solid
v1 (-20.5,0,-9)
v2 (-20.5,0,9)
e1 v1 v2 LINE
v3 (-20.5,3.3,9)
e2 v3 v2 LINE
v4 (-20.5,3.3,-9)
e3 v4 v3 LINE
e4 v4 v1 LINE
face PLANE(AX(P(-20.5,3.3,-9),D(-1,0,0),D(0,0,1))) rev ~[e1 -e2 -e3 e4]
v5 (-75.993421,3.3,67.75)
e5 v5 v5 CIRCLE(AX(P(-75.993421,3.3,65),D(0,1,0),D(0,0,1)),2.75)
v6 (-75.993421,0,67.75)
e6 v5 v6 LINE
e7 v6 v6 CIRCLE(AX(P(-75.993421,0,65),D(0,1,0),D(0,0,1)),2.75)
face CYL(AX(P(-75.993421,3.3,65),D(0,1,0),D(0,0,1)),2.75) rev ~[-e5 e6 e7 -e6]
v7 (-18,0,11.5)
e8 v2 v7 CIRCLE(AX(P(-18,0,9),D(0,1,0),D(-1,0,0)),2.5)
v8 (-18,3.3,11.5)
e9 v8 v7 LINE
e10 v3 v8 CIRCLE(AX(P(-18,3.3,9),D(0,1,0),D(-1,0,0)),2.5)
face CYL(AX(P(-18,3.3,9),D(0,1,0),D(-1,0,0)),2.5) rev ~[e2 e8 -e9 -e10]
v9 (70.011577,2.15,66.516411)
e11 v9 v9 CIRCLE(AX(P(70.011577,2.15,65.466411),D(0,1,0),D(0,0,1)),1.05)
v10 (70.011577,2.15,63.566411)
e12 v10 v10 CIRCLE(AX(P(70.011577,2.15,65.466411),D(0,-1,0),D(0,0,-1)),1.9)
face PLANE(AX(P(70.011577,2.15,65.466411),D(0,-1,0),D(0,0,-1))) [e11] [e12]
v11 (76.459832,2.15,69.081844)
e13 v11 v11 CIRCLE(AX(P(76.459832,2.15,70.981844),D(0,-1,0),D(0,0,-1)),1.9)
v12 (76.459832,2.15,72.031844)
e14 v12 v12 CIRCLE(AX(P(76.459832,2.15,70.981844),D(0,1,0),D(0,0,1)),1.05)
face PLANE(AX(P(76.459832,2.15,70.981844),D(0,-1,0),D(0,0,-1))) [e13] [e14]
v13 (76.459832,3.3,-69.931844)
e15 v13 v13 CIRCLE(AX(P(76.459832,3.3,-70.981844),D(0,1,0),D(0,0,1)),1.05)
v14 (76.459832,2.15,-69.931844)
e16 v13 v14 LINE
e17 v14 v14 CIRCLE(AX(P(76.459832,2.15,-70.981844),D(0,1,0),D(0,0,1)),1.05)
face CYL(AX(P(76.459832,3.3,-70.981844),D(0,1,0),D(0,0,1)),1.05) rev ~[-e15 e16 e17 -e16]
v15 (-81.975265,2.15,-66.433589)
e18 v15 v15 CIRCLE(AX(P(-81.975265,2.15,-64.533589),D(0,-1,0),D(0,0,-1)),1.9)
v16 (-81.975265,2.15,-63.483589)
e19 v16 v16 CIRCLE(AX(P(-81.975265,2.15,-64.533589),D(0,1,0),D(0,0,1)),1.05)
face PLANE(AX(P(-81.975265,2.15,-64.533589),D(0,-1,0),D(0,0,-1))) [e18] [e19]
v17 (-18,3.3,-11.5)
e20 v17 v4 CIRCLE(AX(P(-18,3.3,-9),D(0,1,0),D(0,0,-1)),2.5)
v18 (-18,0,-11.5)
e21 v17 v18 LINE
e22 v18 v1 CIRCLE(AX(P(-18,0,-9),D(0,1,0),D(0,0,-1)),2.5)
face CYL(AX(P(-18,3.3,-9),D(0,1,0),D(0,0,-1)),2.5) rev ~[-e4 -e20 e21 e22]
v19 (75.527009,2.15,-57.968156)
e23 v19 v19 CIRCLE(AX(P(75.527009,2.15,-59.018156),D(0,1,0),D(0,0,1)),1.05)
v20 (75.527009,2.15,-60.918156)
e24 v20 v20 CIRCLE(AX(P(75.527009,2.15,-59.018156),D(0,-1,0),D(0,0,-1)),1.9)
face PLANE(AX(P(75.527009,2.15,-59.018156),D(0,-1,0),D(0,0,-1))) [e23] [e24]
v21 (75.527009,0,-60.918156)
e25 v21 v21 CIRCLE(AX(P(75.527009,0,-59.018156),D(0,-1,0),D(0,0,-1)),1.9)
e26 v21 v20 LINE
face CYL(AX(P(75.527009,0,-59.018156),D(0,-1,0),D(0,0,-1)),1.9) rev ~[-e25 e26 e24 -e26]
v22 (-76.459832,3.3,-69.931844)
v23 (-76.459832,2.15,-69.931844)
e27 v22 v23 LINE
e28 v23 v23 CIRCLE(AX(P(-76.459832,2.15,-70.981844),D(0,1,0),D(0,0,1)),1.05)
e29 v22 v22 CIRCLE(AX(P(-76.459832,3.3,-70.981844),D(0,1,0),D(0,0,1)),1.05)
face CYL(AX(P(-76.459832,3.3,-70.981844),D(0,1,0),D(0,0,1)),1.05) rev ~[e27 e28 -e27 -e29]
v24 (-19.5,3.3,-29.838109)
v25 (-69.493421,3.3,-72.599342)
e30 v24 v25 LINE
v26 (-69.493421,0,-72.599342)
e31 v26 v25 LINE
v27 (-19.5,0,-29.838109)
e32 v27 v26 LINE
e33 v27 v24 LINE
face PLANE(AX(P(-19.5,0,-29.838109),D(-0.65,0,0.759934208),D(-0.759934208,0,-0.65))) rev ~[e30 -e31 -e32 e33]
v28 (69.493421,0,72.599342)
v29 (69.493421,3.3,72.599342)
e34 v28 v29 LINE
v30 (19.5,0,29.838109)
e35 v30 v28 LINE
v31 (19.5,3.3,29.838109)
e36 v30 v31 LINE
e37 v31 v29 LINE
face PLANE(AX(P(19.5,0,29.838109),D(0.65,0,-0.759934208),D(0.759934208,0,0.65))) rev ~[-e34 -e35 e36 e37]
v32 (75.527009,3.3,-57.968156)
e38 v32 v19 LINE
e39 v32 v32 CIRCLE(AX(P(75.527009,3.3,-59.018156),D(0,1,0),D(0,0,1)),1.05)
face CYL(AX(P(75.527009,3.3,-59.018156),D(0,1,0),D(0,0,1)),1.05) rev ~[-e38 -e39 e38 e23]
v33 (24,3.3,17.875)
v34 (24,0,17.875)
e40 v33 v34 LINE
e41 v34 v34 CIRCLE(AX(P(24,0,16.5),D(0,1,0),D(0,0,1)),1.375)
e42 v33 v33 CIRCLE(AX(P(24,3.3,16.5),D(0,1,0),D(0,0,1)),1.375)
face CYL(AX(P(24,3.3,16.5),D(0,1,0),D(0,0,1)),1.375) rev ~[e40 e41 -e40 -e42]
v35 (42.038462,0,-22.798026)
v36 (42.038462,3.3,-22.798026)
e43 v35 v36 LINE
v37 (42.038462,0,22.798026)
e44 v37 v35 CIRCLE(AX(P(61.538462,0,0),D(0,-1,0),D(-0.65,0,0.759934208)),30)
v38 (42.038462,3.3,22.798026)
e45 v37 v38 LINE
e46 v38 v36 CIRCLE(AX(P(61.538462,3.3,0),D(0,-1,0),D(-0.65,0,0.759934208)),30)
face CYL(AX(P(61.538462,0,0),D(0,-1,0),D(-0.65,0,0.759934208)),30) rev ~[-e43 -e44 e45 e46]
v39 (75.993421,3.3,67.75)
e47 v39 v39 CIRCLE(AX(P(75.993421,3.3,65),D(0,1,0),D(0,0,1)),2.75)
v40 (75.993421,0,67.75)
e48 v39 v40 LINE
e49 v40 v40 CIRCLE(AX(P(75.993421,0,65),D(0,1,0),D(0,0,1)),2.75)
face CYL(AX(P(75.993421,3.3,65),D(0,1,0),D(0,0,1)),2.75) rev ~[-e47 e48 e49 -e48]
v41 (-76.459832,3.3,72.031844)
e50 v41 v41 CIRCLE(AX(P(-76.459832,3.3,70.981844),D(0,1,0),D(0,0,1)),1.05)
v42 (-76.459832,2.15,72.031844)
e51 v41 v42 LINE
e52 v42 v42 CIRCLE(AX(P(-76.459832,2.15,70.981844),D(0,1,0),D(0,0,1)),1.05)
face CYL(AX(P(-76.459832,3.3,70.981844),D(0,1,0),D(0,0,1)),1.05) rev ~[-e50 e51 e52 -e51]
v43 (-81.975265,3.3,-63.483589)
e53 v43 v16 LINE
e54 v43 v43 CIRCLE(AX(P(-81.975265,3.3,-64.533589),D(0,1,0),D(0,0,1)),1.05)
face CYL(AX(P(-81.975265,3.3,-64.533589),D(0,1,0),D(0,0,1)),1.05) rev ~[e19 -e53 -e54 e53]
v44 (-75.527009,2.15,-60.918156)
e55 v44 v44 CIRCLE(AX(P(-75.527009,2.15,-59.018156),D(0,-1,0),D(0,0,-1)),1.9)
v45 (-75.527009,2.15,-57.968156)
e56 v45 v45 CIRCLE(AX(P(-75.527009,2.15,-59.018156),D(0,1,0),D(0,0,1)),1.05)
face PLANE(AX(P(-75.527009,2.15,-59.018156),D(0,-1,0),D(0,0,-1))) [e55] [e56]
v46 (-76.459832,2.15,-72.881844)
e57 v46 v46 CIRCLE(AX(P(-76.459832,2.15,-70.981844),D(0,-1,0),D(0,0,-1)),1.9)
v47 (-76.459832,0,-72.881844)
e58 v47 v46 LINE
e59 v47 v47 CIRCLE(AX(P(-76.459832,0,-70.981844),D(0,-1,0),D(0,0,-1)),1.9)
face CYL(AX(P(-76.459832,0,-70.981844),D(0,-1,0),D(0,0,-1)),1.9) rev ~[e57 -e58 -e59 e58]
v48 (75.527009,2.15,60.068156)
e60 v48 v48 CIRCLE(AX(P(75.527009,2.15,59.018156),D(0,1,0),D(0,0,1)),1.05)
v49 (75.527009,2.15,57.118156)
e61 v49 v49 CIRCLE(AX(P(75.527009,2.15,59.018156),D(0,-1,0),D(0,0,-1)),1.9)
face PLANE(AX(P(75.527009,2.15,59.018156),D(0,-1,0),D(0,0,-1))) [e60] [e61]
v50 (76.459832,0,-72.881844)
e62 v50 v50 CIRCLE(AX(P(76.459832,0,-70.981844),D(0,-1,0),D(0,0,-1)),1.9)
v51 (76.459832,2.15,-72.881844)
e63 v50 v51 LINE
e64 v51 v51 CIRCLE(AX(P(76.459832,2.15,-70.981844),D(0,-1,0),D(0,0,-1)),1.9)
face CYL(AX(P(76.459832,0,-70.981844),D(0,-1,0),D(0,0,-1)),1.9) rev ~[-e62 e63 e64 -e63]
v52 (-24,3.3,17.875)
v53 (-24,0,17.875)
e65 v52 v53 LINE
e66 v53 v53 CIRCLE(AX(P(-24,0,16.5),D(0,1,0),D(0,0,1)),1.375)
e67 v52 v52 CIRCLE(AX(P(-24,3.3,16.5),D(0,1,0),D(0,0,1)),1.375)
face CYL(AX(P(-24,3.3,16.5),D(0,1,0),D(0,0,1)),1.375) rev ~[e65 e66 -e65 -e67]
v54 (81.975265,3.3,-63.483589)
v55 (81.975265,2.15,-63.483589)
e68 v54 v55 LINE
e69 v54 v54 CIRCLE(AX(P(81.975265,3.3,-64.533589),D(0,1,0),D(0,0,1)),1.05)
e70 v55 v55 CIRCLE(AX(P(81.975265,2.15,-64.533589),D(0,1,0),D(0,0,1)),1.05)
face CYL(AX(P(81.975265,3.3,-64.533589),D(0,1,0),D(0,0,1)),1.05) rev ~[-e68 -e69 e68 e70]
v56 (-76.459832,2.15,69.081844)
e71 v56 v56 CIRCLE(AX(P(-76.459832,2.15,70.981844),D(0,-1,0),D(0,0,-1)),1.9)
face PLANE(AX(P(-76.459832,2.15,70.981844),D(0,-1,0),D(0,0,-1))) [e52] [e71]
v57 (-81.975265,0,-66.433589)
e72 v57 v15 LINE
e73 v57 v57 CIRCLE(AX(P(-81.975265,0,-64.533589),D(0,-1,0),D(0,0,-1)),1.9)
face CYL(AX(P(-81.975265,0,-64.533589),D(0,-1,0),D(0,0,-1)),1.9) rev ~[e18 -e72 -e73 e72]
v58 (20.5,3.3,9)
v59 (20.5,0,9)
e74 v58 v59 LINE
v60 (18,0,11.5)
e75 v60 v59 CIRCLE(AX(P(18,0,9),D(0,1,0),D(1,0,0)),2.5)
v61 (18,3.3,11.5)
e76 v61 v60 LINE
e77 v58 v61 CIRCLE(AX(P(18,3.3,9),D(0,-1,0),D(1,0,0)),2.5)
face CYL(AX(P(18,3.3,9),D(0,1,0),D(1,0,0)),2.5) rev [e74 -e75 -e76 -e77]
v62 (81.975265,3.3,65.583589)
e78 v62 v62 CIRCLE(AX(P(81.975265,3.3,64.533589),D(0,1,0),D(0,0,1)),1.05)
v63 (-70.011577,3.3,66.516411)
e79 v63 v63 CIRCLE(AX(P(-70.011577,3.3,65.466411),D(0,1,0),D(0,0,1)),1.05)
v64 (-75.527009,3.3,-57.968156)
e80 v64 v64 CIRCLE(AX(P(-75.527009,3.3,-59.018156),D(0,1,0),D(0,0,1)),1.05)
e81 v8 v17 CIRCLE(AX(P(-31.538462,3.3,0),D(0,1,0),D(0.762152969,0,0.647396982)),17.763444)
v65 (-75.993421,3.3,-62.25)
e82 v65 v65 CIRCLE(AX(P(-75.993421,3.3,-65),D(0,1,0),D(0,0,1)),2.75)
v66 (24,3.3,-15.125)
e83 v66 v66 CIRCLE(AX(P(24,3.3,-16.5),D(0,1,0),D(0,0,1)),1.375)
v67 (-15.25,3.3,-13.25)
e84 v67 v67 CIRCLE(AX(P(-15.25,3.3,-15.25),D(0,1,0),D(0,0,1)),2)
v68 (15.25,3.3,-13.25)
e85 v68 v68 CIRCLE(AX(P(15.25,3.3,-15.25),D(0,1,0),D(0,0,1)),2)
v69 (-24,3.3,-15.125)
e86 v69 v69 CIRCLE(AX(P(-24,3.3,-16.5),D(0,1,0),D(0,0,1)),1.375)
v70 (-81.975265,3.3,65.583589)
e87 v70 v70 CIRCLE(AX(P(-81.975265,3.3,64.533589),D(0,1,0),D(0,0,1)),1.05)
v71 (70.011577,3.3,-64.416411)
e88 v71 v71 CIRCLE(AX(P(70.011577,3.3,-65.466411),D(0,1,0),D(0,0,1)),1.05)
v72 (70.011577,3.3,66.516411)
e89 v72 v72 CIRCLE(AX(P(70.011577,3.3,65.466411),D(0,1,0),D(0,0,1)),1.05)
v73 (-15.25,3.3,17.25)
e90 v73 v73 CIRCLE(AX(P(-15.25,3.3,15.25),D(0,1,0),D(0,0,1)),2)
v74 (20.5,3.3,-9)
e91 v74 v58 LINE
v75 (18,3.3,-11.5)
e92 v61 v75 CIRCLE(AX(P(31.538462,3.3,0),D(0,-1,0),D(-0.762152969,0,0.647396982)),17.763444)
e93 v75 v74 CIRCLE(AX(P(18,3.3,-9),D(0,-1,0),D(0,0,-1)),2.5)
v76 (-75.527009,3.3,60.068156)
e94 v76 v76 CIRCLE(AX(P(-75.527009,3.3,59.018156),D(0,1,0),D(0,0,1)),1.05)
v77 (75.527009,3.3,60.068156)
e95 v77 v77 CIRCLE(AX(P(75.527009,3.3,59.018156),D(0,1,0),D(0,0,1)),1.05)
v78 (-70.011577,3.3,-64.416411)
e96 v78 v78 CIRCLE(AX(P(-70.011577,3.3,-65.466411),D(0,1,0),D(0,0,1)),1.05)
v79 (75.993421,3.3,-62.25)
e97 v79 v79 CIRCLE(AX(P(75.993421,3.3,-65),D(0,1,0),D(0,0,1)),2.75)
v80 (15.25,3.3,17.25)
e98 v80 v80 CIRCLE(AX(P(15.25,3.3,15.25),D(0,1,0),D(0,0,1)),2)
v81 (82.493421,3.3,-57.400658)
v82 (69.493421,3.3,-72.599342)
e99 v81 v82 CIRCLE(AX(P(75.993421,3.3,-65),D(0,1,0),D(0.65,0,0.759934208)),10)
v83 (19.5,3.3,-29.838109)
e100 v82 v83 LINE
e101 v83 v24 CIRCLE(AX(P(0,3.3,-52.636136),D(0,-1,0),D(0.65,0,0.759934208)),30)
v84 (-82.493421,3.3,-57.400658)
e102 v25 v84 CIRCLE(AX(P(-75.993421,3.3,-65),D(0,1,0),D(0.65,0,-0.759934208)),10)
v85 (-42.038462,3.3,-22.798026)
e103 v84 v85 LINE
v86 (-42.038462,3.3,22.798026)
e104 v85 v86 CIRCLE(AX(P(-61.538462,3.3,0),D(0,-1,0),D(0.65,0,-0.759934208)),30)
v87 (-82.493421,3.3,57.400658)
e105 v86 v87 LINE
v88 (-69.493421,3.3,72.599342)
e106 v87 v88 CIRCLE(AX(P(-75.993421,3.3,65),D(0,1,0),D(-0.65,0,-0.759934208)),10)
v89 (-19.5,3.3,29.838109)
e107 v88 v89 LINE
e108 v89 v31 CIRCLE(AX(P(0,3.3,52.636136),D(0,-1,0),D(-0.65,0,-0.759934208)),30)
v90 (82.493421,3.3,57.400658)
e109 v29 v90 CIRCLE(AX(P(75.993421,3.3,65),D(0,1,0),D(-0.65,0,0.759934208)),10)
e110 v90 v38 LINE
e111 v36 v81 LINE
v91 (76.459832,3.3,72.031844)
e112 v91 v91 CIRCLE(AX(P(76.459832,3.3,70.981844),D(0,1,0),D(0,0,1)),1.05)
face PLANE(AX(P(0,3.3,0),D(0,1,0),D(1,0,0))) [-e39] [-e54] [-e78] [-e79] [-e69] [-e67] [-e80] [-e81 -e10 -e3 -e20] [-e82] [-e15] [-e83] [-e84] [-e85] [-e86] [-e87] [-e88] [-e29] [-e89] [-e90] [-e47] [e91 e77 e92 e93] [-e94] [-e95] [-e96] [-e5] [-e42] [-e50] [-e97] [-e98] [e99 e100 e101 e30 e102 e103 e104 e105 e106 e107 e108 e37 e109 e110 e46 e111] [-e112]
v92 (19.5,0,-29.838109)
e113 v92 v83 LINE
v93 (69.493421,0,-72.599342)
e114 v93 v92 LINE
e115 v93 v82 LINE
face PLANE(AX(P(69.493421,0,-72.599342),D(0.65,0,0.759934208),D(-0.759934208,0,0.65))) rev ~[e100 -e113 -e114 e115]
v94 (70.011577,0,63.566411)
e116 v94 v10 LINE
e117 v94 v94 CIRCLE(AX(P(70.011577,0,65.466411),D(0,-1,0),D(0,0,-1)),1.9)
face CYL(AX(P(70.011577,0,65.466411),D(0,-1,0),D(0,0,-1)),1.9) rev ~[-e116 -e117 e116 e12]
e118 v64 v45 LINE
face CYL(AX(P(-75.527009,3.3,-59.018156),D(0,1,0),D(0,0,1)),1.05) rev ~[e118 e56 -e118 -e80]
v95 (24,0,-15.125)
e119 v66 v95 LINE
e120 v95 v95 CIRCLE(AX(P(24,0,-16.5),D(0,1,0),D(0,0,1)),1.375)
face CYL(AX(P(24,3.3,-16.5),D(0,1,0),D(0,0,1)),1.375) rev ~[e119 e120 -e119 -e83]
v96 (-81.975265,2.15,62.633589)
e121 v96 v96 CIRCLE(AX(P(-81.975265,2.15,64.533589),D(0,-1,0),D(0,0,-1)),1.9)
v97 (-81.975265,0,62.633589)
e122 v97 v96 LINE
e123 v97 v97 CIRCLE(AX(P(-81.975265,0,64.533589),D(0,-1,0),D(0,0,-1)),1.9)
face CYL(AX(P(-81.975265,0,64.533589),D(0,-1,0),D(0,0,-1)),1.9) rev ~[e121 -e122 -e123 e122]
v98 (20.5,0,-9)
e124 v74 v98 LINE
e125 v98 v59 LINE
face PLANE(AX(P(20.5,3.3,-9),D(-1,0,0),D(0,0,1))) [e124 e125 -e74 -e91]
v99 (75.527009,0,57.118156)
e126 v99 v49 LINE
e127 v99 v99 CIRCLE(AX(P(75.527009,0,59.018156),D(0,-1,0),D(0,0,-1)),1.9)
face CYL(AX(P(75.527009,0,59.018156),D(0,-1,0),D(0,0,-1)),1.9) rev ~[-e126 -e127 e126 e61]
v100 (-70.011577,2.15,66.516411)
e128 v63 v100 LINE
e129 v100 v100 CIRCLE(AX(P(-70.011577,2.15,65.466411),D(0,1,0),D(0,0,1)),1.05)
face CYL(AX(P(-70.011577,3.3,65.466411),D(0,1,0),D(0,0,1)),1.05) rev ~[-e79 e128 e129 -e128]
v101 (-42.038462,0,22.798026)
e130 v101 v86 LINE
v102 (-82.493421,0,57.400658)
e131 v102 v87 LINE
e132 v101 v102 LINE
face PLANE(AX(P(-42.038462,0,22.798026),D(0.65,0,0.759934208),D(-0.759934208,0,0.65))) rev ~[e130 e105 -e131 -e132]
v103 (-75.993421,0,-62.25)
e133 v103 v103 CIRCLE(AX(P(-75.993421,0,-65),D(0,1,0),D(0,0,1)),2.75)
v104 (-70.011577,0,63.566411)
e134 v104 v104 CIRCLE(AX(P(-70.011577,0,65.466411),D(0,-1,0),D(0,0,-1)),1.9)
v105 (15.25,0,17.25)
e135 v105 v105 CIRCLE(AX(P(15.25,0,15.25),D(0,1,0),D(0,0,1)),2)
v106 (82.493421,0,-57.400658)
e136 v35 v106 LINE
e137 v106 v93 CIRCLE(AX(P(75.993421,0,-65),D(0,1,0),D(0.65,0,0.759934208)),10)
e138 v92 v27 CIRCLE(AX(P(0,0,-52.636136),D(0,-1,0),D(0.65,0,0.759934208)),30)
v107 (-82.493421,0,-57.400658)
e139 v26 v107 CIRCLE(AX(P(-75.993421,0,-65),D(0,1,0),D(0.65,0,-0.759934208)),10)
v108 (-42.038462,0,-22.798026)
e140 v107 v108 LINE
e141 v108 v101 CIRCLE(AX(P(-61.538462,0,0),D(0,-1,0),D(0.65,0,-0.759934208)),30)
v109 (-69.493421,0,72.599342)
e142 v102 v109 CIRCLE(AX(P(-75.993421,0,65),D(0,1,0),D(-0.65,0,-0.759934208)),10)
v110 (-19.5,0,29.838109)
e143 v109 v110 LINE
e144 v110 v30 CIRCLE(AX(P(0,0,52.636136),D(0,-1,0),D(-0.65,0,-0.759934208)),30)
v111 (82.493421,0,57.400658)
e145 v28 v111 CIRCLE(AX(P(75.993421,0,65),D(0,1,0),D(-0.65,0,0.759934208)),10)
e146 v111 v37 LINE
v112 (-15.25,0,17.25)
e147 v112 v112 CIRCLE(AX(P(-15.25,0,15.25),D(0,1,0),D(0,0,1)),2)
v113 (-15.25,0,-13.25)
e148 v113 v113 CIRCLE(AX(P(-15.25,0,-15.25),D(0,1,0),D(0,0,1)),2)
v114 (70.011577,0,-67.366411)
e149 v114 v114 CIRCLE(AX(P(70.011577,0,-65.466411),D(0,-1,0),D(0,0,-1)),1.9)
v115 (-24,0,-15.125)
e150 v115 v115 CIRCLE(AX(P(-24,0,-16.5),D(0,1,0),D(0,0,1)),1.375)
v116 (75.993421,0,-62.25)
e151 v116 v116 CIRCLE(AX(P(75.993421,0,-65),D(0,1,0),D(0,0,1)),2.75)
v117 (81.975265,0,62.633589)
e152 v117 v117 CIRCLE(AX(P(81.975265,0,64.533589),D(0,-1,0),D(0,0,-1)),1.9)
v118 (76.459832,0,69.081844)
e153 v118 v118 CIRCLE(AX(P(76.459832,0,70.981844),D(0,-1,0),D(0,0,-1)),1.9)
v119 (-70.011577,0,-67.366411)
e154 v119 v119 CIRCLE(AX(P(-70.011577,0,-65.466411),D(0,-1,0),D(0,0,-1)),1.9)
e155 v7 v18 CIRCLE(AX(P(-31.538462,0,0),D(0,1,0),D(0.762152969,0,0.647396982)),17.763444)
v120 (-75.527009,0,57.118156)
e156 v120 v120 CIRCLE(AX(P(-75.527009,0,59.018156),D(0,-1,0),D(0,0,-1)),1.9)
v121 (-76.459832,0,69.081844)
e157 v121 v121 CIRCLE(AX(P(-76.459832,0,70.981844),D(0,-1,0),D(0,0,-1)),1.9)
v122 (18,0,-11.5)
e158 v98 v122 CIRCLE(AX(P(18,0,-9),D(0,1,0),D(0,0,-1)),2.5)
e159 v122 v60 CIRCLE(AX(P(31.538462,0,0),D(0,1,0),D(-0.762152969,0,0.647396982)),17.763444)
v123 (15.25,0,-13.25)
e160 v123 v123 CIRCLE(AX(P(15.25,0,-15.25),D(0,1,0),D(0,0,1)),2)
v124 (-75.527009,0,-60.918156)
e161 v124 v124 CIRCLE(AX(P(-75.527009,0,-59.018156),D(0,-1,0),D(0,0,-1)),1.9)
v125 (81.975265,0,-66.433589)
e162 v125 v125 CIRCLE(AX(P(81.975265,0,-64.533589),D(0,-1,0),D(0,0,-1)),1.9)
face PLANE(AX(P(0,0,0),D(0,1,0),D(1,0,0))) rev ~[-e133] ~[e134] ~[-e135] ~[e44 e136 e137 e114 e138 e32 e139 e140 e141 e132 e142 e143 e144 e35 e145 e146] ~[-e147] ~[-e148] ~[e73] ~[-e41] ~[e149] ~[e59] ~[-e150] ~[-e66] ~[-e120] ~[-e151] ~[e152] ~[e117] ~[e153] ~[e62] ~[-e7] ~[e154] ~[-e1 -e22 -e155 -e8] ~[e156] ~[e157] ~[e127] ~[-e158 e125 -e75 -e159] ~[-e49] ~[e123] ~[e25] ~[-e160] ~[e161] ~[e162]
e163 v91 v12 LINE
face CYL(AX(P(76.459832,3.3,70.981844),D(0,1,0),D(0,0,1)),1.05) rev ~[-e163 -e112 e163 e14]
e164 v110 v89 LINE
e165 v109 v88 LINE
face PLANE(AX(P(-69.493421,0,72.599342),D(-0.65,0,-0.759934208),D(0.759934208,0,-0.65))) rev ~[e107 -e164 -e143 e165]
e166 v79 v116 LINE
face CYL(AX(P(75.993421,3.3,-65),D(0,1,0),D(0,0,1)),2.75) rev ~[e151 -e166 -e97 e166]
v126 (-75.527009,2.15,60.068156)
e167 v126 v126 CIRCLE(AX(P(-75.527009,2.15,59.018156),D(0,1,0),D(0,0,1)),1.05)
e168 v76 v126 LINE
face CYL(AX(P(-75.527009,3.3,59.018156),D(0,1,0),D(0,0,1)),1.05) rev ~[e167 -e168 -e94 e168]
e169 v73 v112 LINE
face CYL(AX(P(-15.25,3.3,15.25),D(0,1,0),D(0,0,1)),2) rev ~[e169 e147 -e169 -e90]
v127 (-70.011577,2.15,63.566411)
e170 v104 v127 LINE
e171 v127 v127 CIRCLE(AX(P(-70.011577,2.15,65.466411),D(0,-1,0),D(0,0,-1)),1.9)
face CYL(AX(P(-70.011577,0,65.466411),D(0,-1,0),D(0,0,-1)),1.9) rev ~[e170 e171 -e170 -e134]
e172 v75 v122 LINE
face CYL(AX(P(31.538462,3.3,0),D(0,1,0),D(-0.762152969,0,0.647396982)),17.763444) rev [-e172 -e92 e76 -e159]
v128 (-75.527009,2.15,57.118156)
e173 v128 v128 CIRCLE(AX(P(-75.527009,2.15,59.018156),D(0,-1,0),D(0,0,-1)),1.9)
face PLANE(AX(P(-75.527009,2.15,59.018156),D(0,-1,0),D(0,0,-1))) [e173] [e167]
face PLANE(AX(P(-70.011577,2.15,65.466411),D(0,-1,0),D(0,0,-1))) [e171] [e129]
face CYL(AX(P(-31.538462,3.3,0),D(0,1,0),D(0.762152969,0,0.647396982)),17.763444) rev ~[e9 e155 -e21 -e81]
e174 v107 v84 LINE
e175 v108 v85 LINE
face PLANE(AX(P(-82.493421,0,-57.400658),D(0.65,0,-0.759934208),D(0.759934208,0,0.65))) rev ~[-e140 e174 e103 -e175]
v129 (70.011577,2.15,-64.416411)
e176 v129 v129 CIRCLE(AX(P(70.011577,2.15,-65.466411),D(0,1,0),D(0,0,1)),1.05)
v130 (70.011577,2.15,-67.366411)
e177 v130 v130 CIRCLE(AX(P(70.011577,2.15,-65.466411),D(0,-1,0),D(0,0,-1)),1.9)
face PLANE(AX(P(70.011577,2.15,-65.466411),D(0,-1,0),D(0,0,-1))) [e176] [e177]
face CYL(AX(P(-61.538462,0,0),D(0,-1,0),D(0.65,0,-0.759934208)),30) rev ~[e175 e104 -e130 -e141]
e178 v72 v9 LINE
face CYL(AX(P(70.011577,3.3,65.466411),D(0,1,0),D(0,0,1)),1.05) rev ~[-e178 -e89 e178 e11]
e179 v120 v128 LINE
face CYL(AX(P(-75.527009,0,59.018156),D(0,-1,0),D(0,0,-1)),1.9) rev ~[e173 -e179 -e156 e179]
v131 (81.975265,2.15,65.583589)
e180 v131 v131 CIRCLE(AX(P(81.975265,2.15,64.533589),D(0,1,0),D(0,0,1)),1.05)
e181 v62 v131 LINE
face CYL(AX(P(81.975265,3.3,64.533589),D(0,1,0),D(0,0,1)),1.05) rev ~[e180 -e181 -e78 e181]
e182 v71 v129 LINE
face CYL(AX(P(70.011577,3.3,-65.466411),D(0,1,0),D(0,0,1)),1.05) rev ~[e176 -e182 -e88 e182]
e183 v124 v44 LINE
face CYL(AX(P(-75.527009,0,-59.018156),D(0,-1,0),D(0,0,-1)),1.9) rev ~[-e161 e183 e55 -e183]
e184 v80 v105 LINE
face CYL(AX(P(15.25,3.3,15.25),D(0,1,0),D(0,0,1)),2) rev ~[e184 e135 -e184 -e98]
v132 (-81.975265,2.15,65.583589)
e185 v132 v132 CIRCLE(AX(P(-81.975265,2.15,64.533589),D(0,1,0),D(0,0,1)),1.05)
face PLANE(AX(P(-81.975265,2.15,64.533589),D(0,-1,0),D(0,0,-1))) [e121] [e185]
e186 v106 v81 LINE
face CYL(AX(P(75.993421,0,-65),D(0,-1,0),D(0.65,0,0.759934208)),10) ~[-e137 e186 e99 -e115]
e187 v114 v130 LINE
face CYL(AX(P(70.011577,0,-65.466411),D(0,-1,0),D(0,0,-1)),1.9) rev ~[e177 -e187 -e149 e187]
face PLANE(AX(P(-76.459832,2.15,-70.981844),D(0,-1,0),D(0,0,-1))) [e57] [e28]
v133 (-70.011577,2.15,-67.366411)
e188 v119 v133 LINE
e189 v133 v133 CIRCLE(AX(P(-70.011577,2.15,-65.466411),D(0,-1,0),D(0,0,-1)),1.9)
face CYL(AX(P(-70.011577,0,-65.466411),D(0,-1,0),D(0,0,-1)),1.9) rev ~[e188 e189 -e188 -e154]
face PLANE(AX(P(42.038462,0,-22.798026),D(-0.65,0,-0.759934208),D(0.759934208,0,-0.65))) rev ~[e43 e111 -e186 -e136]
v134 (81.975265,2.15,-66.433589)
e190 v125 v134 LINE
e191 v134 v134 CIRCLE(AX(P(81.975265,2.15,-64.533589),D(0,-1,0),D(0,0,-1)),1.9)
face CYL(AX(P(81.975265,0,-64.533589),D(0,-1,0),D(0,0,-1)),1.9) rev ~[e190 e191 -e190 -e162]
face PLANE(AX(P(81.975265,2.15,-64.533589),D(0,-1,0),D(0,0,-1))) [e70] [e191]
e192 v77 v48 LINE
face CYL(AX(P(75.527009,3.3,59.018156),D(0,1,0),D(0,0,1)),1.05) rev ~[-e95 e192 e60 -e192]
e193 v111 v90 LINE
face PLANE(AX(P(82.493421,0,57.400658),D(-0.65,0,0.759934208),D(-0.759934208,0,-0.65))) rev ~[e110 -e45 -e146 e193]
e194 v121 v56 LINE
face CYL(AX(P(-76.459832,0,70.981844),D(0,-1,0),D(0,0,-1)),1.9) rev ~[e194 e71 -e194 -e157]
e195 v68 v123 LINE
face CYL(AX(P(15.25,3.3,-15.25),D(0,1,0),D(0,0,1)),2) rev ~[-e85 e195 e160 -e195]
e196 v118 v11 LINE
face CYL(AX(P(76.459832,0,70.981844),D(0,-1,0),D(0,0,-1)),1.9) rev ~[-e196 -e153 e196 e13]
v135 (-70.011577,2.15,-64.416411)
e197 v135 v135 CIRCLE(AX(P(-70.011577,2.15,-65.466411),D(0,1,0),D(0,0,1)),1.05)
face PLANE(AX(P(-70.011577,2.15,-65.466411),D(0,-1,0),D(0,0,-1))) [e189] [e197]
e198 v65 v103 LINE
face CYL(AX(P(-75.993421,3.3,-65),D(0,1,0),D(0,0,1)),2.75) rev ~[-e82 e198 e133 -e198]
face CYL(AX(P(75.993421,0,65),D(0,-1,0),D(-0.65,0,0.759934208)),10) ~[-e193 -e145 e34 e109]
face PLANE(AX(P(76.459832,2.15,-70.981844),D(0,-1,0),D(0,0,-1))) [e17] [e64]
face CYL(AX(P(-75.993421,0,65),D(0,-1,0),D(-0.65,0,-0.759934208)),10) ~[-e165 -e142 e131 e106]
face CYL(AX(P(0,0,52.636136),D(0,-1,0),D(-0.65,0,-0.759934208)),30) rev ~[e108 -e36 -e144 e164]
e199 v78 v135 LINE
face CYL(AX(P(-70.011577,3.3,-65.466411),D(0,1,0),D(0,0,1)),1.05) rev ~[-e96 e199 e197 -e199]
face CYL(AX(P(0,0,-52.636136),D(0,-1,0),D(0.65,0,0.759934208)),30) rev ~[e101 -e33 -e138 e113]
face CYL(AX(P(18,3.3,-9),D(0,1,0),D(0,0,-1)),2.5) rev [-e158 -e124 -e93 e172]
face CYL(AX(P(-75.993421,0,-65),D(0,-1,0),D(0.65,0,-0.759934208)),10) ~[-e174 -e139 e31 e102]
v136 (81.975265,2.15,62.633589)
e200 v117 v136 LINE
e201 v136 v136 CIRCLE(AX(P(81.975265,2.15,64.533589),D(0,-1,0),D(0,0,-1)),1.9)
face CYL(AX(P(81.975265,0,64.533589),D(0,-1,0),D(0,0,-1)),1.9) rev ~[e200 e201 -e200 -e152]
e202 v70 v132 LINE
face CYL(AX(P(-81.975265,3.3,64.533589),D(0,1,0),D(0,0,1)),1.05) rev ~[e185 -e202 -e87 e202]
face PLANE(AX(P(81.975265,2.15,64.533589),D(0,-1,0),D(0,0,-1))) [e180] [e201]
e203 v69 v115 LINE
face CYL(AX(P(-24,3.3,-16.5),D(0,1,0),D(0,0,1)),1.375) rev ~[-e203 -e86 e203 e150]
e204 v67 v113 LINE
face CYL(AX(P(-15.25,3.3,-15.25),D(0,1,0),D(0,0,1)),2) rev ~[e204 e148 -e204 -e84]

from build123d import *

# Parameters (mm, degrees)
BOSS_EXTRUDE1_DEPTH = 3.3
SKETCH2_R           = 1.05
SKETCH2_R_2         = 2.75
SKETCH2_R_3         = 1.375
CUT_EXTRUDE1_DEPTH  = 3.3
SKETCH3_R           = 1.9
CUT_EXTRUDE2_DEPTH  = 2.15
SKETCH6_R           = 2
CUT_EXTRUDE3_DEPTH  = 10


with BuildPart() as part:
    # Sketch1 → Boss-Extrude1 (new body)
    with BuildSketch(Plane(origin=(0, 0, 0), x_dir=(1, 0, 0), z_dir=(0, 1, 0))):
        with BuildLine():
            Line((-82.493420768, 57.400657923), (-42.038461538, 22.79802623))
            ThreePointArc((-42.038461538, 22.79802623), (-31.538461538, 0), (-42.038461538, -22.79802623))
            Line((-42.038461538, -22.79802623), (-82.493420768, -57.400657923))
            ThreePointArc((-82.493420768, -57.400657923), (-83.592762845, -71.5), (-69.493420768, -72.599342077))
            Line((-69.493420768, -72.599342077), (-19.5, -29.838109366))
            ThreePointArc((-19.5, -29.838109366), (0, -22.636135597), (19.5, -29.838109366))
            Line((19.5, -29.838109366), (69.493420768, -72.599342077))
            ThreePointArc((69.493420768, -72.599342077), (83.592762845, -71.5), (82.493420768, -57.400657923))
            Line((82.493420768, -57.400657923), (42.038461538, -22.79802623))
            ThreePointArc((42.038461538, -22.79802623), (31.538461538, 0), (42.038461538, 22.79802623))
            Line((42.038461538, 22.79802623), (82.493420768, 57.400657923))
            ThreePointArc((82.493420768, 57.400657923), (83.592762845, 71.5), (69.493420768, 72.599342077))
            Line((69.493420768, 72.599342077), (19.5, 29.838109366))
            ThreePointArc((19.5, 29.838109366), (0, 22.636135597), (-19.5, 29.838109366))
            Line((-19.5, 29.838109366), (-69.493420768, 72.599342077))
            ThreePointArc((-69.493420768, 72.599342077), (-83.592762845, 71.5), (-82.493420768, 57.400657923))
        make_face()
    extrude(amount=BOSS_EXTRUDE1_DEPTH)

    # Sketch2 → Cut-Extrude1 (cut)
    with BuildSketch(Plane(origin=(0, 3.3, 0), x_dir=(1, 0, 0), z_dir=(0, 1, 0))):
        with Locations(Location((-76.45983211, 70.981844236, 0), (0, 0, 270))):
            Circle(SKETCH2_R)
        with Locations(Location((-70.011576532, 65.466411342, 0), (0, 0, 270))):
            Circle(SKETCH2_R)
        with Locations(Location((-75.527009425, 59.018155764, 0), (0, 0, 270))):
            Circle(SKETCH2_R)
        with Locations(Location((-81.975265004, 64.533588658, 0), (0, 0, 270))):
            Circle(SKETCH2_R)
        with Locations(Location((75.527009425, 59.018155764, 0), (0, 0, 270))):
            Circle(SKETCH2_R)
        with Locations(Location((81.975265004, 64.533588658, 0), (0, 0, 270))):
            Circle(SKETCH2_R)
        with Locations(Location((76.45983211, 70.981844236, 0), (0, 0, 270))):
            Circle(SKETCH2_R)
        with Locations(Location((70.011576532, 65.466411342, 0), (0, 0, 270))):
            Circle(SKETCH2_R)
        with Locations(Location((-76.45983211, -70.981844236, 0), (0, 0, 270))):
            Circle(SKETCH2_R)
        with Locations(Location((-81.975265004, -64.533588658, 0), (0, 0, 270))):
            Circle(SKETCH2_R)
        with Locations(Location((-75.527009425, -59.018155764, 0), (0, 0, 270))):
            Circle(SKETCH2_R)
        with Locations(Location((-70.011576532, -65.466411342, 0), (0, 0, 270))):
            Circle(SKETCH2_R)
        with Locations(Location((70.011576532, -65.466411342, 0), (0, 0, 270))):
            Circle(SKETCH2_R)
        with Locations(Location((76.45983211, -70.981844236, 0), (0, 0, 270))):
            Circle(SKETCH2_R)
        with Locations(Location((81.975265004, -64.533588658, 0), (0, 0, 270))):
            Circle(SKETCH2_R)
        with Locations(Location((75.527009425, -59.018155764, 0), (0, 0, 270))):
            Circle(SKETCH2_R)
        with Locations(Location((-75.993420768, 65, 0), (0, 0, 270))):
            Circle(SKETCH2_R_2)
        with Locations(Location((75.993420768, 65, 0), (0, 0, 270))):
            Circle(SKETCH2_R_2)
        with Locations(Location((75.993420768, -65, 0), (0, 0, 270))):
            Circle(SKETCH2_R_2)
        with Locations(Location((-75.993420768, -65, 0), (0, 0, 270))):
            Circle(SKETCH2_R_2)
        with Locations(Location((-24, 16.5, 0), (0, 0, 270))):
            Circle(SKETCH2_R_3)
        with Locations(Location((24, 16.5, 0), (0, 0, 270))):
            Circle(SKETCH2_R_3)
        with Locations(Location((24, -16.5, 0), (0, 0, 270))):
            Circle(SKETCH2_R_3)
        with Locations(Location((-24, -16.5, 0), (0, 0, 270))):
            Circle(SKETCH2_R_3)
    extrude(amount=-CUT_EXTRUDE1_DEPTH, mode=Mode.SUBTRACT)

    # Sketch3 → Cut-Extrude2 (cut)
    with BuildSketch(Plane.XZ):
        with Locations(Location((-76.45983211, 70.981844236, 0), (0, 0, 270))):
            Circle(SKETCH3_R)
        with Locations(Location((-70.011576532, 65.466411342, 0), (0, 0, 270))):
            Circle(SKETCH3_R)
        with Locations(Location((-75.527009425, 59.018155764, 0), (0, 0, 270))):
            Circle(SKETCH3_R)
        with Locations(Location((-81.975265004, 64.533588658, 0), (0, 0, 270))):
            Circle(SKETCH3_R)
        with Locations(Location((81.975265004, 64.533588658, 0), (0, 0, 270))):
            Circle(SKETCH3_R)
        with Locations(Location((75.527009425, 59.018155764, 0), (0, 0, 270))):
            Circle(SKETCH3_R)
        with Locations(Location((70.011576532, 65.466411342, 0), (0, 0, 270))):
            Circle(SKETCH3_R)
        with Locations(Location((76.45983211, 70.981844236, 0), (0, 0, 270))):
            Circle(SKETCH3_R)
        with Locations(Location((76.45983211, -70.981844236, 0), (0, 0, 270))):
            Circle(SKETCH3_R)
        with Locations(Location((70.011576532, -65.466411342, 0), (0, 0, 270))):
            Circle(SKETCH3_R)
        with Locations(Location((75.527009425, -59.018155764, 0), (0, 0, 270))):
            Circle(SKETCH3_R)
        with Locations(Location((81.975265004, -64.533588658, 0), (0, 0, 270))):
            Circle(SKETCH3_R)
        with Locations(Location((-81.975265004, -64.533588658, 0), (0, 0, 270))):
            Circle(SKETCH3_R)
        with Locations(Location((-75.527009425, -59.018155764, 0), (0, 0, 270))):
            Circle(SKETCH3_R)
        with Locations(Location((-70.011576532, -65.466411342, 0), (0, 0, 270))):
            Circle(SKETCH3_R)
        with Locations(Location((-76.45983211, -70.981844236, 0), (0, 0, 270))):
            Circle(SKETCH3_R)
    extrude(amount=-CUT_EXTRUDE2_DEPTH, mode=Mode.SUBTRACT)

    # Sketch6 → Cut-Extrude3 (cut)
    with BuildSketch(Plane(origin=(0, 3.3, 0), x_dir=(1, 0, 0), z_dir=(0, 1, 0))):
        with Locations(Location((-15.25, 15.25, 0), (0, 0, 270))):
            Circle(SKETCH6_R)
        with Locations(Location((15.25, 15.25, 0), (0, 0, 270))):
            Circle(SKETCH6_R)
        with Locations(Location((15.25, -15.25, 0), (0, 0, 270))):
            Circle(SKETCH6_R)
        with Locations(Location((-15.25, -15.25, 0), (0, 0, 270))):
            Circle(SKETCH6_R)
        with BuildLine():
            Line((-20.5, 9), (-20.5, -9))
            ThreePointArc((-20.5, -9), (-19.767766953, -10.767766953), (-18, -11.5))
            ThreePointArc((-18, -11.5), (-13.775017592, 0), (-18, 11.5))
            ThreePointArc((-18, 11.5), (-19.767766953, 10.767766953), (-20.5, 9))
        make_face()
        with BuildLine():
            Line((20.5, 9), (20.5, -9))
            ThreePointArc((20.5, -9), (19.767766953, -10.767766953), (18, -11.5))
            ThreePointArc((18, -11.5), (13.775017592, 0), (18, 11.5))
            ThreePointArc((18, 11.5), (19.767766953, 10.767766953), (20.5, 9))
        make_face()
    extrude(amount=-CUT_EXTRUDE3_DEPTH, mode=Mode.SUBTRACT)


solid = part.part
